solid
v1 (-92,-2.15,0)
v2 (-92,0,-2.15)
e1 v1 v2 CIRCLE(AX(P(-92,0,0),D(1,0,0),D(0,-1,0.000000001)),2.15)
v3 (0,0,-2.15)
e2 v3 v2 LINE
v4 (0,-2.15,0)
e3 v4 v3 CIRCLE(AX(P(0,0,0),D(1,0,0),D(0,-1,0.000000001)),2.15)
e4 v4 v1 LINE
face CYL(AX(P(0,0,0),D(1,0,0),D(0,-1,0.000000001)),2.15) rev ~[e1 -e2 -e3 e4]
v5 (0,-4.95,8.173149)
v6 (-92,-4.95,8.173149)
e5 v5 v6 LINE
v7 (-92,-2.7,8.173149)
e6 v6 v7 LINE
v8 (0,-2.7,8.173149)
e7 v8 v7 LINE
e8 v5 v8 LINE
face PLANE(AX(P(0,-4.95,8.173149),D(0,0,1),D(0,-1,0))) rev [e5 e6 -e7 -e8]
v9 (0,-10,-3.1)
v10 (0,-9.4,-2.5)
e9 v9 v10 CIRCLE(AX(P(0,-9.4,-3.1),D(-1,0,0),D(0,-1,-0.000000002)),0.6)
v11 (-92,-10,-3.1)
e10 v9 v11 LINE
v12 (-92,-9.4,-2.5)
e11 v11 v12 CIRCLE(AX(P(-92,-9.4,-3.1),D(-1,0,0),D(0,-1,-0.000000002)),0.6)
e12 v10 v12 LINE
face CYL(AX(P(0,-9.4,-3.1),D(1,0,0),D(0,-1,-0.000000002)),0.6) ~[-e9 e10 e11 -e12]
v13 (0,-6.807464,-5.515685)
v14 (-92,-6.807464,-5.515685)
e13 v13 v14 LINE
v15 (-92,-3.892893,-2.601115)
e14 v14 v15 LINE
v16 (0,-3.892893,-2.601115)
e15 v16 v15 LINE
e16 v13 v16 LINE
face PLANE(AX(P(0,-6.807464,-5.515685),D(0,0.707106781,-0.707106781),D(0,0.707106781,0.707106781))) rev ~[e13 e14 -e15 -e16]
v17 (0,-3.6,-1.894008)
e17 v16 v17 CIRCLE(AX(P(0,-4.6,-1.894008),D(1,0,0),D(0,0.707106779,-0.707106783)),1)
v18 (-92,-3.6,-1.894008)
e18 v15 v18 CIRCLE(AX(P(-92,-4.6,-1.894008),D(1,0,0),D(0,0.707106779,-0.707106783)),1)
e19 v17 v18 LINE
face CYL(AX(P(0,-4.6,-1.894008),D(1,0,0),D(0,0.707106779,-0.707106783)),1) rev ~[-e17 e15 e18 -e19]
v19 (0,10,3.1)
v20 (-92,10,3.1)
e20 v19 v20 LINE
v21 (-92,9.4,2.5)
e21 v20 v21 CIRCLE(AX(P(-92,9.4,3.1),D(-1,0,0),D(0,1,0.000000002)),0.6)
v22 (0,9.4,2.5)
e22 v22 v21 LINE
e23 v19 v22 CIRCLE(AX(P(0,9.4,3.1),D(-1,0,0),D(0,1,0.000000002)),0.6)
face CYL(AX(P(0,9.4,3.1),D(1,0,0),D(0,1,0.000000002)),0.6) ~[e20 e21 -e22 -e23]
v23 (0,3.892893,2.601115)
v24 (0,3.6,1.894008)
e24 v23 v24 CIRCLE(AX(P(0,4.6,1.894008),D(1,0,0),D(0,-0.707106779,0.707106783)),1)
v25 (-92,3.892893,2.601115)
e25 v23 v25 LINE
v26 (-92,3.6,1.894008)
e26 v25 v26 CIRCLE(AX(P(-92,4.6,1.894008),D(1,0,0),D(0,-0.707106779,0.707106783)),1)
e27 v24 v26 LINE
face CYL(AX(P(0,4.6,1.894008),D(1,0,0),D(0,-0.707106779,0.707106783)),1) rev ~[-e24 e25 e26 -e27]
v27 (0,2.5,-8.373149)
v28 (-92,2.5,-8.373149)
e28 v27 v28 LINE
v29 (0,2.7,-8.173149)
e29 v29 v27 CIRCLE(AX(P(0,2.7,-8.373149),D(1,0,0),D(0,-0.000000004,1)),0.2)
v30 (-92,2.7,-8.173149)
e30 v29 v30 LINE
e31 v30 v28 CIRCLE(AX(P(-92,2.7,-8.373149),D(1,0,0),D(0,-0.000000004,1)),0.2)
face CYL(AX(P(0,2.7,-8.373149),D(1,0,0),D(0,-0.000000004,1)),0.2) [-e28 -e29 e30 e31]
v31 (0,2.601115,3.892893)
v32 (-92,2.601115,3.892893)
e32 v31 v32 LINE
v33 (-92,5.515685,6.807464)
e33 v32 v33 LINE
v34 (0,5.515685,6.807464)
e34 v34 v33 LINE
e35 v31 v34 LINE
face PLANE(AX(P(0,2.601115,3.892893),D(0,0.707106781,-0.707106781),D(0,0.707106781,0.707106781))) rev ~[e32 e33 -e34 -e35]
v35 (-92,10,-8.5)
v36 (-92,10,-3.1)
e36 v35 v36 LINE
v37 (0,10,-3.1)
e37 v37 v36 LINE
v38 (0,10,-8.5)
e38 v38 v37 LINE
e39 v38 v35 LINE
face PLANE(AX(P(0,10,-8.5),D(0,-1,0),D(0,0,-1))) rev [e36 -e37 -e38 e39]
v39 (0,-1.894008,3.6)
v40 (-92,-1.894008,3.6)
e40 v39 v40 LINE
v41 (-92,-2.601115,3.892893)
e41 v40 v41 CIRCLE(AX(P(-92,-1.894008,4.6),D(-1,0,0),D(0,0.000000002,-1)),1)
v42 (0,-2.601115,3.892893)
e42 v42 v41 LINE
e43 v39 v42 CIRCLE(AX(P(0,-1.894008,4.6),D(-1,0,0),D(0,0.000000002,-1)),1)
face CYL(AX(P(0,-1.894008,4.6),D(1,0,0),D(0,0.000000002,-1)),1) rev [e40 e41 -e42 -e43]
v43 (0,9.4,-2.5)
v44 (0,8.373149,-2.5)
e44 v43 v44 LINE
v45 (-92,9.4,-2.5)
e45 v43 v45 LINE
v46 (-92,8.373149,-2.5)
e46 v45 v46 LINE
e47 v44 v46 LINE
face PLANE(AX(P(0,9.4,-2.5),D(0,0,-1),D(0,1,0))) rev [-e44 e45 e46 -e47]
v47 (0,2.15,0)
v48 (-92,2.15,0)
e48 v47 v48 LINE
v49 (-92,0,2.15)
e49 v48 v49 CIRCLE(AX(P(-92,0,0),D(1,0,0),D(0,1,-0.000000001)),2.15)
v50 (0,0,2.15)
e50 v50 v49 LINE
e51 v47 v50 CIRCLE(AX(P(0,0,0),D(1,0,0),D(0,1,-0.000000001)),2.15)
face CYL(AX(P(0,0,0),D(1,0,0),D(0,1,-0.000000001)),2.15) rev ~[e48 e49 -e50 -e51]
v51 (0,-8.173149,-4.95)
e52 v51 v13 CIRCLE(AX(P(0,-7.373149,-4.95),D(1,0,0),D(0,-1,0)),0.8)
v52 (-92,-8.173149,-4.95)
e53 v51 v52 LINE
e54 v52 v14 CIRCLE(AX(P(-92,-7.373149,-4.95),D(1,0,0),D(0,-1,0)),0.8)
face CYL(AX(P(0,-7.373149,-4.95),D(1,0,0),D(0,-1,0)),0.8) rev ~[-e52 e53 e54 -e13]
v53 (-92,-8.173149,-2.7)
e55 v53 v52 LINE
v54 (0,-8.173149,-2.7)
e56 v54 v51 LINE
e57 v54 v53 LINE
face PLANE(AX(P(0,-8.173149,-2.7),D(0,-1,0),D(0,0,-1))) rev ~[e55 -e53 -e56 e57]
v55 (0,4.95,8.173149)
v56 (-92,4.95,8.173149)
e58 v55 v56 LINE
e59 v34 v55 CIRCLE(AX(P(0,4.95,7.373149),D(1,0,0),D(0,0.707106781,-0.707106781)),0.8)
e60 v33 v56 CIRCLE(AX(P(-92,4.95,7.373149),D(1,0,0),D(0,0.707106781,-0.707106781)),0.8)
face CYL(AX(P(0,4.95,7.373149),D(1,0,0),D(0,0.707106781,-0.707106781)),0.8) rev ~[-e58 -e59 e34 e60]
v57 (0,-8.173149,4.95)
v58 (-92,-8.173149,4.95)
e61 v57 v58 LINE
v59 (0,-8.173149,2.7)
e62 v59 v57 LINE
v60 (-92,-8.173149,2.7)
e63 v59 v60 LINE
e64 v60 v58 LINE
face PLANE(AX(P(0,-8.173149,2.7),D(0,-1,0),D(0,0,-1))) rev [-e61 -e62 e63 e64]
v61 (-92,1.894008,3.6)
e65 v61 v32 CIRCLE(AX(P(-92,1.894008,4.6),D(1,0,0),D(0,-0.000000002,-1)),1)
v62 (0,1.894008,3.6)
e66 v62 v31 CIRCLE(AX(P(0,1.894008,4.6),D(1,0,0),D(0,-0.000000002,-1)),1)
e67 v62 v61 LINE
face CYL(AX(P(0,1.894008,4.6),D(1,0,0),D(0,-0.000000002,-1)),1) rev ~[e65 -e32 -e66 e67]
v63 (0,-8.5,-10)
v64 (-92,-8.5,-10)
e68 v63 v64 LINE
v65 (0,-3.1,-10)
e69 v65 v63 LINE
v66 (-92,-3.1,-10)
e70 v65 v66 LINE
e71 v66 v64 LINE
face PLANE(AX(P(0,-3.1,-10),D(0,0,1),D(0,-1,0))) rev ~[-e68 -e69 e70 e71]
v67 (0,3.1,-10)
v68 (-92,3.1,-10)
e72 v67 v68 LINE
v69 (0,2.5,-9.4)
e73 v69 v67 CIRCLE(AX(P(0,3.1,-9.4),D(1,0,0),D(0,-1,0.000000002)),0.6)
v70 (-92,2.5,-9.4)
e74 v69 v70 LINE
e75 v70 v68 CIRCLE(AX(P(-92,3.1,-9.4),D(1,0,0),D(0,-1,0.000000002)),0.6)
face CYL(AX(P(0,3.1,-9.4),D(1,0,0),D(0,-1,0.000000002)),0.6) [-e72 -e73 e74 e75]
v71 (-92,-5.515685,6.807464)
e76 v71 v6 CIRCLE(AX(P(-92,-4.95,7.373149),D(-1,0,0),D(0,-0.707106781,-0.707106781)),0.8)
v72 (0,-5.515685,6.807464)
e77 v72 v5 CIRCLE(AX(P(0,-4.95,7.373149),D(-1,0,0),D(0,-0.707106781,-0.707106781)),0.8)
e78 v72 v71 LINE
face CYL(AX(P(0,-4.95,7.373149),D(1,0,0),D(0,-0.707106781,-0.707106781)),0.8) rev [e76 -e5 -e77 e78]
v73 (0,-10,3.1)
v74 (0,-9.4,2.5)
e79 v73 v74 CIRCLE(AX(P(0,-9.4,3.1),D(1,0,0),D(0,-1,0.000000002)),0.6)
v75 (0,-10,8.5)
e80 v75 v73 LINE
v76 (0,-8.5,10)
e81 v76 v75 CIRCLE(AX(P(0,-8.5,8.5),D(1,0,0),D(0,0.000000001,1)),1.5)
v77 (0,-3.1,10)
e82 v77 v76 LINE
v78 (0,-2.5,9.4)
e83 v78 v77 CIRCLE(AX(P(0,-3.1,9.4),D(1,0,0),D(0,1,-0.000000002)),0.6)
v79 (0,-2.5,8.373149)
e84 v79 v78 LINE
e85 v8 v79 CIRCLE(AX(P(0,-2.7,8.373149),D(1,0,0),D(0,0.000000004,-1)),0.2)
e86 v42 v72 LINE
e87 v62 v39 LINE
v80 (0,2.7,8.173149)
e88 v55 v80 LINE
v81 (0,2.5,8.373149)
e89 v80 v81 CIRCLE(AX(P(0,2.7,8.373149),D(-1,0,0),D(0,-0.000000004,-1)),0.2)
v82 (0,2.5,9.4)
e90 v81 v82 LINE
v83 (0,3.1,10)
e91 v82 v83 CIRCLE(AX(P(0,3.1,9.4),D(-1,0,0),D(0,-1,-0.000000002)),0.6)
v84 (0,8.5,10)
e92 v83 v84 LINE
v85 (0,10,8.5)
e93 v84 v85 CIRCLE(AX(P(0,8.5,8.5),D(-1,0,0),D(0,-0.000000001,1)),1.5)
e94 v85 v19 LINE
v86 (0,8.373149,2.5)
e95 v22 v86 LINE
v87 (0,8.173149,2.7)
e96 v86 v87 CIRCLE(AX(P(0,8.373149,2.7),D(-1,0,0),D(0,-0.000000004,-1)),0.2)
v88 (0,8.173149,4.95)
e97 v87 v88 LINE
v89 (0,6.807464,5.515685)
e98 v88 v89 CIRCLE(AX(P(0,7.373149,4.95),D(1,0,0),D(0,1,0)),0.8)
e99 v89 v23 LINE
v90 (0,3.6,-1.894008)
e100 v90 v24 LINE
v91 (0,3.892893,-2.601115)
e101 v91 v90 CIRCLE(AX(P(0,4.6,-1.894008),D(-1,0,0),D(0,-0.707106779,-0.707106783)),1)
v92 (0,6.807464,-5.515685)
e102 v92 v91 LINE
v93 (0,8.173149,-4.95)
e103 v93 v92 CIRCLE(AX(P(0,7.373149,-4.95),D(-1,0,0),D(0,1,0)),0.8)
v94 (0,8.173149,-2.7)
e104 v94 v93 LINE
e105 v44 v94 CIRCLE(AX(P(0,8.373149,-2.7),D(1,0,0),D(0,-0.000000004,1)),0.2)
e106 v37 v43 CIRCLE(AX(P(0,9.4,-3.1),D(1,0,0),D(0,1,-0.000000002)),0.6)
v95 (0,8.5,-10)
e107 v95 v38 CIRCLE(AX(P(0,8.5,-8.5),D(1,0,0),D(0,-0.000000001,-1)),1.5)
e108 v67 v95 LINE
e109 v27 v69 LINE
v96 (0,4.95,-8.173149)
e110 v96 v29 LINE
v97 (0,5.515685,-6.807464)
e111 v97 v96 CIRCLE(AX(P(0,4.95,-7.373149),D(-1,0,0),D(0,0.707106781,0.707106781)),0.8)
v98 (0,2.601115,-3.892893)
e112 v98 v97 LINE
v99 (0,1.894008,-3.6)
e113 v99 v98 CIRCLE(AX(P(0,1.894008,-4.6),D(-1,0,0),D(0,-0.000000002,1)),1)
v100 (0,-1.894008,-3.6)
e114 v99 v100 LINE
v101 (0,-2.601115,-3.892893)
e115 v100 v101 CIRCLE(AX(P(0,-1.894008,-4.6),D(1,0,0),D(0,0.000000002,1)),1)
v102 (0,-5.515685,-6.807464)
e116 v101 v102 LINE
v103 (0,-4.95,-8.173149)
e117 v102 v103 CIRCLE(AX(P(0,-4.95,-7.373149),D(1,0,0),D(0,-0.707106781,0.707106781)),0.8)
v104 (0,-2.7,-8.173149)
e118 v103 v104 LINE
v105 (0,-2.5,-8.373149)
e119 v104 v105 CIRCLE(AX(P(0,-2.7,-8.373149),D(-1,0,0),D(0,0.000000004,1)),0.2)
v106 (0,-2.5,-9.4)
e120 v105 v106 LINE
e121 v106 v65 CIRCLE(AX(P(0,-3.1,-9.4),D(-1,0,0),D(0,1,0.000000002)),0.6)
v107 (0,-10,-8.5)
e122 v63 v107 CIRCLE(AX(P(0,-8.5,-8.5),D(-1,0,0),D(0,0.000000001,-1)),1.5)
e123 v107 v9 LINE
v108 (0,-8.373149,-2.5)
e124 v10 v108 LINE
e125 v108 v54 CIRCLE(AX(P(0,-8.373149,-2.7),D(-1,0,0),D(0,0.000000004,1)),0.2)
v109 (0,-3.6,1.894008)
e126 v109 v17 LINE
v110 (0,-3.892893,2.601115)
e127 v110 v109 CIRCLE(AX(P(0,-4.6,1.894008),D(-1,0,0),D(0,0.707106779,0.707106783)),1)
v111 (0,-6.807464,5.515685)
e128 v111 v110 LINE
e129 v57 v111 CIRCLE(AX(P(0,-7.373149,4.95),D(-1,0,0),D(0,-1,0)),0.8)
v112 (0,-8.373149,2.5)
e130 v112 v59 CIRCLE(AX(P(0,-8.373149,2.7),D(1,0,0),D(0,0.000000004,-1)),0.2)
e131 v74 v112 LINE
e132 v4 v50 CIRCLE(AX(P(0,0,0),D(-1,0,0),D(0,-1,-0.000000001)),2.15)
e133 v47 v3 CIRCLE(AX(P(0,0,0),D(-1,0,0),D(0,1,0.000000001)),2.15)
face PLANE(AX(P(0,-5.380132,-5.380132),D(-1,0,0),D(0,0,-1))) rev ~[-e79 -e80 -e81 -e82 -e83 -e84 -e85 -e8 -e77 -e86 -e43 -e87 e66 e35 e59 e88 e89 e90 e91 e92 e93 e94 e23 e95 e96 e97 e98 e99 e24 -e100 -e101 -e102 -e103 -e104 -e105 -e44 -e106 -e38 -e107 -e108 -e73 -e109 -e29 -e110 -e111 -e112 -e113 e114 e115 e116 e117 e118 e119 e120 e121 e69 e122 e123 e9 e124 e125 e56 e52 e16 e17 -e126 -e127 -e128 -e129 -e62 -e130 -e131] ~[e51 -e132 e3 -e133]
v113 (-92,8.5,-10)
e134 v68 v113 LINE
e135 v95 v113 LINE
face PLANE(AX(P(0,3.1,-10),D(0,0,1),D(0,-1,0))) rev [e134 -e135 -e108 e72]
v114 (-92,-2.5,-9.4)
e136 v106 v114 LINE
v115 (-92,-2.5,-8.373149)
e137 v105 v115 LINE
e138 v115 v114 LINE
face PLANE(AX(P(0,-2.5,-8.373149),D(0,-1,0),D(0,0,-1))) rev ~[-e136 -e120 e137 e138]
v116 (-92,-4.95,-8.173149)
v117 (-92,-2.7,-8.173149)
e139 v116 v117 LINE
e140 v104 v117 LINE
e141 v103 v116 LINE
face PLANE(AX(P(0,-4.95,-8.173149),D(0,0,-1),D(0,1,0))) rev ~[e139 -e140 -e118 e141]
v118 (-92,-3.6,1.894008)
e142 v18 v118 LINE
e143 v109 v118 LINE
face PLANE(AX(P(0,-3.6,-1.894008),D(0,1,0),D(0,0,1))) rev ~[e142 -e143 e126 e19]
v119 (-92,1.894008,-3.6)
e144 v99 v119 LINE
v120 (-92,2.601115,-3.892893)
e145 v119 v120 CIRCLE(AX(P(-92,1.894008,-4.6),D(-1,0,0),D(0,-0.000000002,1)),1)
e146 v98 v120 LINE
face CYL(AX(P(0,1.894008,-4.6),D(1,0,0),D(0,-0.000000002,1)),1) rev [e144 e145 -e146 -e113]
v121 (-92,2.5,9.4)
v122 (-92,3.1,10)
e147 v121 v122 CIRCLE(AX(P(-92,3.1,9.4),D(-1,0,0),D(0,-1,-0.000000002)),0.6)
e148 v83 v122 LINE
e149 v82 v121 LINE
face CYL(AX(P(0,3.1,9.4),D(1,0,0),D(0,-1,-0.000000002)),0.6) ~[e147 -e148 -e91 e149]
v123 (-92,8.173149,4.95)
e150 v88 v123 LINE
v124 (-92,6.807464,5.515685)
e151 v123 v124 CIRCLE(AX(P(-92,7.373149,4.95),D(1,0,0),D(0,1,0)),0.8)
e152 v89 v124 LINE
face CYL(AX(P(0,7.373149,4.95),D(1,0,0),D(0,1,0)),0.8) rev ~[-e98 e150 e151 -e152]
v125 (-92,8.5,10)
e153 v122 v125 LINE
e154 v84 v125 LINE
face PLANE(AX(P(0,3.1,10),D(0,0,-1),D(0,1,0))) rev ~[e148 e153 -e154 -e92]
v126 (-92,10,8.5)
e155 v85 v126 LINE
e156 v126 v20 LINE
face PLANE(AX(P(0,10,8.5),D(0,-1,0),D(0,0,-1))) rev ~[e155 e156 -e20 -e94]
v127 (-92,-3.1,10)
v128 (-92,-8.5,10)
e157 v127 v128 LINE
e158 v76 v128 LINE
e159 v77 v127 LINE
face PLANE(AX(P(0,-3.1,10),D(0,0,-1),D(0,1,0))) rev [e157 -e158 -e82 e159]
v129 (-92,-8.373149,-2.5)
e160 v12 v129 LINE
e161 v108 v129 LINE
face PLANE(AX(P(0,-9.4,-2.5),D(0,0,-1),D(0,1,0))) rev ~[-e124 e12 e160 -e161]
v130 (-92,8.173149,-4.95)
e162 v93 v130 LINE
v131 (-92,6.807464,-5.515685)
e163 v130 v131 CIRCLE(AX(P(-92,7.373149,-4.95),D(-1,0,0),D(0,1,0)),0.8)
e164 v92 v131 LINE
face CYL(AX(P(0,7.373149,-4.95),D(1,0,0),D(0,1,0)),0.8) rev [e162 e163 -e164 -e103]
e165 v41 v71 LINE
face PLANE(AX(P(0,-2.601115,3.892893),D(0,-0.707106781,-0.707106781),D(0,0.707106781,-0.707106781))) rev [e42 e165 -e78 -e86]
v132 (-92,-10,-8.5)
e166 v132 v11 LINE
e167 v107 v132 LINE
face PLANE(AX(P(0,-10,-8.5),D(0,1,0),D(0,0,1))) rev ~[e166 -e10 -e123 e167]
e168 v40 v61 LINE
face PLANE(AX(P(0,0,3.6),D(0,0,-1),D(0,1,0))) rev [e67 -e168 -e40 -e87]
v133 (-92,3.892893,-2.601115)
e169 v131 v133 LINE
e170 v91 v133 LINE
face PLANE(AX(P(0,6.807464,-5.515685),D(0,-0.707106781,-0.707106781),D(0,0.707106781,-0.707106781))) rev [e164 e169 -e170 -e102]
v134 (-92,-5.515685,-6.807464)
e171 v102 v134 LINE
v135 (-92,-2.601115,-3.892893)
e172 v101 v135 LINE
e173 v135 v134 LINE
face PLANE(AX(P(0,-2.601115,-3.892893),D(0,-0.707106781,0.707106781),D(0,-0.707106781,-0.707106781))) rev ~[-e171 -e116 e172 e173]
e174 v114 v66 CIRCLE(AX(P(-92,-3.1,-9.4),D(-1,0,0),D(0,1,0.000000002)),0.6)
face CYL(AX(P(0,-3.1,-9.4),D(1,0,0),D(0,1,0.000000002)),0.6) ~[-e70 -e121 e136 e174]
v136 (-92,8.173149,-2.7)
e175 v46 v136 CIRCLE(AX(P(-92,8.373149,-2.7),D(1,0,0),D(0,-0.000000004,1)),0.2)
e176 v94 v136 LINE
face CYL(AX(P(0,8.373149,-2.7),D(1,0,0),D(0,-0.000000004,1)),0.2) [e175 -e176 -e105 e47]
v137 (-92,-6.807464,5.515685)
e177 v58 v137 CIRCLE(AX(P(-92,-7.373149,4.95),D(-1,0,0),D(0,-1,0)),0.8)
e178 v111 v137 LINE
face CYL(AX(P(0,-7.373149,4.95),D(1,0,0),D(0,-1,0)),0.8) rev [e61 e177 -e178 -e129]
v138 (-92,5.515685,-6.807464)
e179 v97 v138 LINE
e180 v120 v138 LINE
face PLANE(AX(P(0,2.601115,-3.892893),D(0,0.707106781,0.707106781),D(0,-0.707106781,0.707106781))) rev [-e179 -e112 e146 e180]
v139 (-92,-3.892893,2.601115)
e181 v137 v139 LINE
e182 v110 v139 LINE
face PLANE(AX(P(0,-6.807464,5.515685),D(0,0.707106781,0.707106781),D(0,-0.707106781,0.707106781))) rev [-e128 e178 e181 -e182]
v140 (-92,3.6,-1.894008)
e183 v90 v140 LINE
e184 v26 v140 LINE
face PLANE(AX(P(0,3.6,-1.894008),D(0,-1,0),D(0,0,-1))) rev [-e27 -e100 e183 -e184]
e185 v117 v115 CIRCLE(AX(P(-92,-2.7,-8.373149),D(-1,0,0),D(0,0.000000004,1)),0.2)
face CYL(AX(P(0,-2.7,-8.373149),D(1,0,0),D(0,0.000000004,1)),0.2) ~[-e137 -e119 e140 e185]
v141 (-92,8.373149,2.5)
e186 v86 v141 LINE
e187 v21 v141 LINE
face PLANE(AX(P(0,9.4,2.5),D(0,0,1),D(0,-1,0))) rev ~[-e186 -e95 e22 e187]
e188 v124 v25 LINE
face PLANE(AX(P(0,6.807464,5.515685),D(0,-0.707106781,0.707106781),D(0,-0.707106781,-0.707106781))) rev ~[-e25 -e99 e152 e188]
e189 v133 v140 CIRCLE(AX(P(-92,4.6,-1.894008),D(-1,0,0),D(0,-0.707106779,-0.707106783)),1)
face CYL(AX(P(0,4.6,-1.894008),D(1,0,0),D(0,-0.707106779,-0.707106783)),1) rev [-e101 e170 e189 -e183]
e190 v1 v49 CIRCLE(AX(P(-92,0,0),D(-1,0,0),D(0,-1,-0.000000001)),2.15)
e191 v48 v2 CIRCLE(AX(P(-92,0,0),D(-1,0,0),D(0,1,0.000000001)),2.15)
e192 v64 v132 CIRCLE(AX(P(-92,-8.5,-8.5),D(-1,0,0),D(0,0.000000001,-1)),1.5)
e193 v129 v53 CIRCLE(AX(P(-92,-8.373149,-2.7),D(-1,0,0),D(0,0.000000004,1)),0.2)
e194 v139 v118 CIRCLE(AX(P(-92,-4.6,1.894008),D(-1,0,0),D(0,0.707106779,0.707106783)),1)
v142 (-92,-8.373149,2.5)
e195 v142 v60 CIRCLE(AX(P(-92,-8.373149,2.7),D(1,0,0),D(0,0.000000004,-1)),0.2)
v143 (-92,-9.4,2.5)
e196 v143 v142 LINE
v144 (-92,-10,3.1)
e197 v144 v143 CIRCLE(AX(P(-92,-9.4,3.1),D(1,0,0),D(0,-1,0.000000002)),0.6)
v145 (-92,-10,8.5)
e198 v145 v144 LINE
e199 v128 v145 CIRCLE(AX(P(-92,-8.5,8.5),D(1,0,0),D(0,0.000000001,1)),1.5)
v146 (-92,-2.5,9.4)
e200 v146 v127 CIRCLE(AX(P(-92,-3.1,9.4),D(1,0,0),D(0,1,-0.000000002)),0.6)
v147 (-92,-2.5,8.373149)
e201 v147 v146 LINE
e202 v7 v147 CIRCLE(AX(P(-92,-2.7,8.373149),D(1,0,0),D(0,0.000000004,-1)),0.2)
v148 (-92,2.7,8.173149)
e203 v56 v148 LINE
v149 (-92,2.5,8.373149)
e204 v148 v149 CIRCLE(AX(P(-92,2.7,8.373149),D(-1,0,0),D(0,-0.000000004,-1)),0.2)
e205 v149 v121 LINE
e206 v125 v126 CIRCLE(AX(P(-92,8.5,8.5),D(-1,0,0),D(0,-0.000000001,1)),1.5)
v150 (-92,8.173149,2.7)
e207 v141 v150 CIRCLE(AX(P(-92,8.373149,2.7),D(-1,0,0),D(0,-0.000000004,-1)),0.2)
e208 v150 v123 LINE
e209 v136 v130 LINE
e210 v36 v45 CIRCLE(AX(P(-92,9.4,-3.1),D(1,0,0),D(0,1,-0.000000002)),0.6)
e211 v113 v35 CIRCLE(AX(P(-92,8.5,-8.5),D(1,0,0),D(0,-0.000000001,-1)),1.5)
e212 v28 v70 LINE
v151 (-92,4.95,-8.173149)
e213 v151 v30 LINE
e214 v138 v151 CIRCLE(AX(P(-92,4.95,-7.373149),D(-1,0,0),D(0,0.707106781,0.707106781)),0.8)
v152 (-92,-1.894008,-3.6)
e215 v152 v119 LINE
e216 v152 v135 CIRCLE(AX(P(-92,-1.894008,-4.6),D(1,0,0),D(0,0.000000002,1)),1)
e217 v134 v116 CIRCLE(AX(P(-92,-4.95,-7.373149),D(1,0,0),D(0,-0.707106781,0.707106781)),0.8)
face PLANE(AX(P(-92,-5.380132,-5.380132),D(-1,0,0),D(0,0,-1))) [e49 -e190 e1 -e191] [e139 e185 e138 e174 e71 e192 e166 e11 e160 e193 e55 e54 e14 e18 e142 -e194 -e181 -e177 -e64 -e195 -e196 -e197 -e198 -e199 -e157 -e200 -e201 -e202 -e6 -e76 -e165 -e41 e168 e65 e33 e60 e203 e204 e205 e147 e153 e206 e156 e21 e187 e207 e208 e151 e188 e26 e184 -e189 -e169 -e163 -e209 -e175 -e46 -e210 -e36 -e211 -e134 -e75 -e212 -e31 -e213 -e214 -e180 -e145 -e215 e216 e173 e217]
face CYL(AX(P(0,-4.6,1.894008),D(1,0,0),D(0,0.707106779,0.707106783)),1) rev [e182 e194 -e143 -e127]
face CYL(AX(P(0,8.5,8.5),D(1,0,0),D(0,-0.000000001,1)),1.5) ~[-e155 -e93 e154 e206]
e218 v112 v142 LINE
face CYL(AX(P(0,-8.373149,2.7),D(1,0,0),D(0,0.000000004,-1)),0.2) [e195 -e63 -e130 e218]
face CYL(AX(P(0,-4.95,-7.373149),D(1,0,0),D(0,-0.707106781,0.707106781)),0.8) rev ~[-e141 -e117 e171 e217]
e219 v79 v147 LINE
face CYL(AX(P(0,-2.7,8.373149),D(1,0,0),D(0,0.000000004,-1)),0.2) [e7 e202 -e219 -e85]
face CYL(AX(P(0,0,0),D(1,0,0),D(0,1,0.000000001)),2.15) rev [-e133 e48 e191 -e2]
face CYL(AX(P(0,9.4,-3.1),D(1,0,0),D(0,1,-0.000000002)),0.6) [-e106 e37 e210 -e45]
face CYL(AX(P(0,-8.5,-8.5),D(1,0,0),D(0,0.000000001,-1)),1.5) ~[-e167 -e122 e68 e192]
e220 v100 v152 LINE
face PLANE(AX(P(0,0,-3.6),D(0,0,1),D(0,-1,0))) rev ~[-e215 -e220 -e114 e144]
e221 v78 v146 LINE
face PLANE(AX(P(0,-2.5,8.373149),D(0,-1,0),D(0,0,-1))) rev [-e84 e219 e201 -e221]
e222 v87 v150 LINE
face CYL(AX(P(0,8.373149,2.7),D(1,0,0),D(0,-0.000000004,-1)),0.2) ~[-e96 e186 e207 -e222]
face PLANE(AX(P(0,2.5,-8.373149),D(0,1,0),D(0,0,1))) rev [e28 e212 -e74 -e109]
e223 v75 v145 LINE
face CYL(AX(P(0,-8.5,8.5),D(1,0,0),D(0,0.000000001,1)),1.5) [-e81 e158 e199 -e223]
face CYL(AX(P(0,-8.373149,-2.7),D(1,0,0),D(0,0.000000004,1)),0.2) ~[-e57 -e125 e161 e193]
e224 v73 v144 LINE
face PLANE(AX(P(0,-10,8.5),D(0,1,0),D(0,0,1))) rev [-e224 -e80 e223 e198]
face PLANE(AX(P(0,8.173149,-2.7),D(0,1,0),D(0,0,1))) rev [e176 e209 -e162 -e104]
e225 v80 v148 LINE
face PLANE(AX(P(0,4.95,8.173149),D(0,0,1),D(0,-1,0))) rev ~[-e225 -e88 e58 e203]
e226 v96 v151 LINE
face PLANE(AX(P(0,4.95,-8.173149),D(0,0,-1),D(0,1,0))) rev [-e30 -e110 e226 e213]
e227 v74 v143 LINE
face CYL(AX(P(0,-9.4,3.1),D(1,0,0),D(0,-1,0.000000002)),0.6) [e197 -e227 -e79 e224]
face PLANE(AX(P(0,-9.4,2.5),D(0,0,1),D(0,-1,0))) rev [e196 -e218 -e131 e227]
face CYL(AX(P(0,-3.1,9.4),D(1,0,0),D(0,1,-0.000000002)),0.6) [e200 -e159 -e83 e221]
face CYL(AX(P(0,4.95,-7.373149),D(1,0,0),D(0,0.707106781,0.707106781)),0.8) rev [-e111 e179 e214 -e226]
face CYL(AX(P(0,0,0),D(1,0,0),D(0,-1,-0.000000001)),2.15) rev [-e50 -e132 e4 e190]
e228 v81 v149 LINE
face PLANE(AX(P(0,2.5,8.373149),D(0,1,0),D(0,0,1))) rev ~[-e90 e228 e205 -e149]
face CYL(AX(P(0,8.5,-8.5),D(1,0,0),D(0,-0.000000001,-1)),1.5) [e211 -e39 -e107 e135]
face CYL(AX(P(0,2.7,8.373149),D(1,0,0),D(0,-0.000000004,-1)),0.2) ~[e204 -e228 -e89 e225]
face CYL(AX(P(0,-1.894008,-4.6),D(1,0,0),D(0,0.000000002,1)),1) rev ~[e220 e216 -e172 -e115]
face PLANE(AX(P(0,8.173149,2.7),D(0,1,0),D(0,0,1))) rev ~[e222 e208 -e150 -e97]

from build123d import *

# Parameters (mm, degrees)
BOSS_EXTRUDE1_DEPTH = 92


with BuildPart() as part:
    # Sketch3 → Boss-Extrude1 (new body)
    with BuildSketch(Plane(origin=(0, 0, 0), x_dir=(0, 0, -1), z_dir=(1, 0, 0))):
        with BuildLine():
            Line((-5.515685425, 6.807463915), (-2.601114729, 3.892893219))
            ThreePointArc((-2.601114729, 3.892893219), (-2.27669138, 3.676120467), (-1.894007948, 3.6))
            Line((-1.894007948, 3.6), (0, 3.6))
            Line((0, 3.6), (0, 2.15))
            ThreePointArc((0, 2.15), (-1.52027958, 1.52027958), (-2.15, 0))
            Line((-2.15, 0), (-3.6, 0))
            Line((-3.6, 0), (-3.6, 1.894007948))
            ThreePointArc((-3.6, 1.894007948), (-3.676120467, 2.27669138), (-3.892893219, 2.601114729))
            Line((-3.892893219, 2.601114729), (-6.807463915, 5.515685425))
            ThreePointArc((-6.807463915, 5.515685425), (-7.679296086, 5.689103626), (-8.17314934, 4.95))
            Line((-8.17314934, 4.95), (-8.17314934, 2.7))
            ThreePointArc((-8.17314934, 2.7), (-8.231727984, 2.558578644), (-8.37314934, 2.5))
            Line((-8.37314934, 2.5), (-9.4, 2.5))
            ThreePointArc((-9.4, 2.5), (-9.824264069, 2.675735931), (-10, 3.1))
            Line((-10, 3.1), (-10, 8.5))
            ThreePointArc((-10, 8.5), (-9.560660172, 9.560660172), (-8.5, 10))
            Line((-8.5, 10), (-3.1, 10))
            ThreePointArc((-3.1, 10), (-2.675735931, 9.824264069), (-2.5, 9.4))
            Line((-2.5, 9.4), (-2.5, 8.37314934))
            ThreePointArc((-2.5, 8.37314934), (-2.558578644, 8.231727984), (-2.7, 8.17314934))
            Line((-2.7, 8.17314934), (-4.95, 8.17314934))
            ThreePointArc((-4.95, 8.17314934), (-5.689103626, 7.679296086), (-5.515685425, 6.807463915))
        make_face()
    extrude(amount=-BOSS_EXTRUDE1_DEPTH)

    # Mirror1: part across plane


with BuildPart() as part_1:
    add(part.part)
    add(part.part.mirror(Plane.ZX))

    # Mirror2: part across plane


with BuildPart() as part_2:
    add(part_1.part)
    add(part_1.part.mirror(Plane.XY))


solid = part_2.part
